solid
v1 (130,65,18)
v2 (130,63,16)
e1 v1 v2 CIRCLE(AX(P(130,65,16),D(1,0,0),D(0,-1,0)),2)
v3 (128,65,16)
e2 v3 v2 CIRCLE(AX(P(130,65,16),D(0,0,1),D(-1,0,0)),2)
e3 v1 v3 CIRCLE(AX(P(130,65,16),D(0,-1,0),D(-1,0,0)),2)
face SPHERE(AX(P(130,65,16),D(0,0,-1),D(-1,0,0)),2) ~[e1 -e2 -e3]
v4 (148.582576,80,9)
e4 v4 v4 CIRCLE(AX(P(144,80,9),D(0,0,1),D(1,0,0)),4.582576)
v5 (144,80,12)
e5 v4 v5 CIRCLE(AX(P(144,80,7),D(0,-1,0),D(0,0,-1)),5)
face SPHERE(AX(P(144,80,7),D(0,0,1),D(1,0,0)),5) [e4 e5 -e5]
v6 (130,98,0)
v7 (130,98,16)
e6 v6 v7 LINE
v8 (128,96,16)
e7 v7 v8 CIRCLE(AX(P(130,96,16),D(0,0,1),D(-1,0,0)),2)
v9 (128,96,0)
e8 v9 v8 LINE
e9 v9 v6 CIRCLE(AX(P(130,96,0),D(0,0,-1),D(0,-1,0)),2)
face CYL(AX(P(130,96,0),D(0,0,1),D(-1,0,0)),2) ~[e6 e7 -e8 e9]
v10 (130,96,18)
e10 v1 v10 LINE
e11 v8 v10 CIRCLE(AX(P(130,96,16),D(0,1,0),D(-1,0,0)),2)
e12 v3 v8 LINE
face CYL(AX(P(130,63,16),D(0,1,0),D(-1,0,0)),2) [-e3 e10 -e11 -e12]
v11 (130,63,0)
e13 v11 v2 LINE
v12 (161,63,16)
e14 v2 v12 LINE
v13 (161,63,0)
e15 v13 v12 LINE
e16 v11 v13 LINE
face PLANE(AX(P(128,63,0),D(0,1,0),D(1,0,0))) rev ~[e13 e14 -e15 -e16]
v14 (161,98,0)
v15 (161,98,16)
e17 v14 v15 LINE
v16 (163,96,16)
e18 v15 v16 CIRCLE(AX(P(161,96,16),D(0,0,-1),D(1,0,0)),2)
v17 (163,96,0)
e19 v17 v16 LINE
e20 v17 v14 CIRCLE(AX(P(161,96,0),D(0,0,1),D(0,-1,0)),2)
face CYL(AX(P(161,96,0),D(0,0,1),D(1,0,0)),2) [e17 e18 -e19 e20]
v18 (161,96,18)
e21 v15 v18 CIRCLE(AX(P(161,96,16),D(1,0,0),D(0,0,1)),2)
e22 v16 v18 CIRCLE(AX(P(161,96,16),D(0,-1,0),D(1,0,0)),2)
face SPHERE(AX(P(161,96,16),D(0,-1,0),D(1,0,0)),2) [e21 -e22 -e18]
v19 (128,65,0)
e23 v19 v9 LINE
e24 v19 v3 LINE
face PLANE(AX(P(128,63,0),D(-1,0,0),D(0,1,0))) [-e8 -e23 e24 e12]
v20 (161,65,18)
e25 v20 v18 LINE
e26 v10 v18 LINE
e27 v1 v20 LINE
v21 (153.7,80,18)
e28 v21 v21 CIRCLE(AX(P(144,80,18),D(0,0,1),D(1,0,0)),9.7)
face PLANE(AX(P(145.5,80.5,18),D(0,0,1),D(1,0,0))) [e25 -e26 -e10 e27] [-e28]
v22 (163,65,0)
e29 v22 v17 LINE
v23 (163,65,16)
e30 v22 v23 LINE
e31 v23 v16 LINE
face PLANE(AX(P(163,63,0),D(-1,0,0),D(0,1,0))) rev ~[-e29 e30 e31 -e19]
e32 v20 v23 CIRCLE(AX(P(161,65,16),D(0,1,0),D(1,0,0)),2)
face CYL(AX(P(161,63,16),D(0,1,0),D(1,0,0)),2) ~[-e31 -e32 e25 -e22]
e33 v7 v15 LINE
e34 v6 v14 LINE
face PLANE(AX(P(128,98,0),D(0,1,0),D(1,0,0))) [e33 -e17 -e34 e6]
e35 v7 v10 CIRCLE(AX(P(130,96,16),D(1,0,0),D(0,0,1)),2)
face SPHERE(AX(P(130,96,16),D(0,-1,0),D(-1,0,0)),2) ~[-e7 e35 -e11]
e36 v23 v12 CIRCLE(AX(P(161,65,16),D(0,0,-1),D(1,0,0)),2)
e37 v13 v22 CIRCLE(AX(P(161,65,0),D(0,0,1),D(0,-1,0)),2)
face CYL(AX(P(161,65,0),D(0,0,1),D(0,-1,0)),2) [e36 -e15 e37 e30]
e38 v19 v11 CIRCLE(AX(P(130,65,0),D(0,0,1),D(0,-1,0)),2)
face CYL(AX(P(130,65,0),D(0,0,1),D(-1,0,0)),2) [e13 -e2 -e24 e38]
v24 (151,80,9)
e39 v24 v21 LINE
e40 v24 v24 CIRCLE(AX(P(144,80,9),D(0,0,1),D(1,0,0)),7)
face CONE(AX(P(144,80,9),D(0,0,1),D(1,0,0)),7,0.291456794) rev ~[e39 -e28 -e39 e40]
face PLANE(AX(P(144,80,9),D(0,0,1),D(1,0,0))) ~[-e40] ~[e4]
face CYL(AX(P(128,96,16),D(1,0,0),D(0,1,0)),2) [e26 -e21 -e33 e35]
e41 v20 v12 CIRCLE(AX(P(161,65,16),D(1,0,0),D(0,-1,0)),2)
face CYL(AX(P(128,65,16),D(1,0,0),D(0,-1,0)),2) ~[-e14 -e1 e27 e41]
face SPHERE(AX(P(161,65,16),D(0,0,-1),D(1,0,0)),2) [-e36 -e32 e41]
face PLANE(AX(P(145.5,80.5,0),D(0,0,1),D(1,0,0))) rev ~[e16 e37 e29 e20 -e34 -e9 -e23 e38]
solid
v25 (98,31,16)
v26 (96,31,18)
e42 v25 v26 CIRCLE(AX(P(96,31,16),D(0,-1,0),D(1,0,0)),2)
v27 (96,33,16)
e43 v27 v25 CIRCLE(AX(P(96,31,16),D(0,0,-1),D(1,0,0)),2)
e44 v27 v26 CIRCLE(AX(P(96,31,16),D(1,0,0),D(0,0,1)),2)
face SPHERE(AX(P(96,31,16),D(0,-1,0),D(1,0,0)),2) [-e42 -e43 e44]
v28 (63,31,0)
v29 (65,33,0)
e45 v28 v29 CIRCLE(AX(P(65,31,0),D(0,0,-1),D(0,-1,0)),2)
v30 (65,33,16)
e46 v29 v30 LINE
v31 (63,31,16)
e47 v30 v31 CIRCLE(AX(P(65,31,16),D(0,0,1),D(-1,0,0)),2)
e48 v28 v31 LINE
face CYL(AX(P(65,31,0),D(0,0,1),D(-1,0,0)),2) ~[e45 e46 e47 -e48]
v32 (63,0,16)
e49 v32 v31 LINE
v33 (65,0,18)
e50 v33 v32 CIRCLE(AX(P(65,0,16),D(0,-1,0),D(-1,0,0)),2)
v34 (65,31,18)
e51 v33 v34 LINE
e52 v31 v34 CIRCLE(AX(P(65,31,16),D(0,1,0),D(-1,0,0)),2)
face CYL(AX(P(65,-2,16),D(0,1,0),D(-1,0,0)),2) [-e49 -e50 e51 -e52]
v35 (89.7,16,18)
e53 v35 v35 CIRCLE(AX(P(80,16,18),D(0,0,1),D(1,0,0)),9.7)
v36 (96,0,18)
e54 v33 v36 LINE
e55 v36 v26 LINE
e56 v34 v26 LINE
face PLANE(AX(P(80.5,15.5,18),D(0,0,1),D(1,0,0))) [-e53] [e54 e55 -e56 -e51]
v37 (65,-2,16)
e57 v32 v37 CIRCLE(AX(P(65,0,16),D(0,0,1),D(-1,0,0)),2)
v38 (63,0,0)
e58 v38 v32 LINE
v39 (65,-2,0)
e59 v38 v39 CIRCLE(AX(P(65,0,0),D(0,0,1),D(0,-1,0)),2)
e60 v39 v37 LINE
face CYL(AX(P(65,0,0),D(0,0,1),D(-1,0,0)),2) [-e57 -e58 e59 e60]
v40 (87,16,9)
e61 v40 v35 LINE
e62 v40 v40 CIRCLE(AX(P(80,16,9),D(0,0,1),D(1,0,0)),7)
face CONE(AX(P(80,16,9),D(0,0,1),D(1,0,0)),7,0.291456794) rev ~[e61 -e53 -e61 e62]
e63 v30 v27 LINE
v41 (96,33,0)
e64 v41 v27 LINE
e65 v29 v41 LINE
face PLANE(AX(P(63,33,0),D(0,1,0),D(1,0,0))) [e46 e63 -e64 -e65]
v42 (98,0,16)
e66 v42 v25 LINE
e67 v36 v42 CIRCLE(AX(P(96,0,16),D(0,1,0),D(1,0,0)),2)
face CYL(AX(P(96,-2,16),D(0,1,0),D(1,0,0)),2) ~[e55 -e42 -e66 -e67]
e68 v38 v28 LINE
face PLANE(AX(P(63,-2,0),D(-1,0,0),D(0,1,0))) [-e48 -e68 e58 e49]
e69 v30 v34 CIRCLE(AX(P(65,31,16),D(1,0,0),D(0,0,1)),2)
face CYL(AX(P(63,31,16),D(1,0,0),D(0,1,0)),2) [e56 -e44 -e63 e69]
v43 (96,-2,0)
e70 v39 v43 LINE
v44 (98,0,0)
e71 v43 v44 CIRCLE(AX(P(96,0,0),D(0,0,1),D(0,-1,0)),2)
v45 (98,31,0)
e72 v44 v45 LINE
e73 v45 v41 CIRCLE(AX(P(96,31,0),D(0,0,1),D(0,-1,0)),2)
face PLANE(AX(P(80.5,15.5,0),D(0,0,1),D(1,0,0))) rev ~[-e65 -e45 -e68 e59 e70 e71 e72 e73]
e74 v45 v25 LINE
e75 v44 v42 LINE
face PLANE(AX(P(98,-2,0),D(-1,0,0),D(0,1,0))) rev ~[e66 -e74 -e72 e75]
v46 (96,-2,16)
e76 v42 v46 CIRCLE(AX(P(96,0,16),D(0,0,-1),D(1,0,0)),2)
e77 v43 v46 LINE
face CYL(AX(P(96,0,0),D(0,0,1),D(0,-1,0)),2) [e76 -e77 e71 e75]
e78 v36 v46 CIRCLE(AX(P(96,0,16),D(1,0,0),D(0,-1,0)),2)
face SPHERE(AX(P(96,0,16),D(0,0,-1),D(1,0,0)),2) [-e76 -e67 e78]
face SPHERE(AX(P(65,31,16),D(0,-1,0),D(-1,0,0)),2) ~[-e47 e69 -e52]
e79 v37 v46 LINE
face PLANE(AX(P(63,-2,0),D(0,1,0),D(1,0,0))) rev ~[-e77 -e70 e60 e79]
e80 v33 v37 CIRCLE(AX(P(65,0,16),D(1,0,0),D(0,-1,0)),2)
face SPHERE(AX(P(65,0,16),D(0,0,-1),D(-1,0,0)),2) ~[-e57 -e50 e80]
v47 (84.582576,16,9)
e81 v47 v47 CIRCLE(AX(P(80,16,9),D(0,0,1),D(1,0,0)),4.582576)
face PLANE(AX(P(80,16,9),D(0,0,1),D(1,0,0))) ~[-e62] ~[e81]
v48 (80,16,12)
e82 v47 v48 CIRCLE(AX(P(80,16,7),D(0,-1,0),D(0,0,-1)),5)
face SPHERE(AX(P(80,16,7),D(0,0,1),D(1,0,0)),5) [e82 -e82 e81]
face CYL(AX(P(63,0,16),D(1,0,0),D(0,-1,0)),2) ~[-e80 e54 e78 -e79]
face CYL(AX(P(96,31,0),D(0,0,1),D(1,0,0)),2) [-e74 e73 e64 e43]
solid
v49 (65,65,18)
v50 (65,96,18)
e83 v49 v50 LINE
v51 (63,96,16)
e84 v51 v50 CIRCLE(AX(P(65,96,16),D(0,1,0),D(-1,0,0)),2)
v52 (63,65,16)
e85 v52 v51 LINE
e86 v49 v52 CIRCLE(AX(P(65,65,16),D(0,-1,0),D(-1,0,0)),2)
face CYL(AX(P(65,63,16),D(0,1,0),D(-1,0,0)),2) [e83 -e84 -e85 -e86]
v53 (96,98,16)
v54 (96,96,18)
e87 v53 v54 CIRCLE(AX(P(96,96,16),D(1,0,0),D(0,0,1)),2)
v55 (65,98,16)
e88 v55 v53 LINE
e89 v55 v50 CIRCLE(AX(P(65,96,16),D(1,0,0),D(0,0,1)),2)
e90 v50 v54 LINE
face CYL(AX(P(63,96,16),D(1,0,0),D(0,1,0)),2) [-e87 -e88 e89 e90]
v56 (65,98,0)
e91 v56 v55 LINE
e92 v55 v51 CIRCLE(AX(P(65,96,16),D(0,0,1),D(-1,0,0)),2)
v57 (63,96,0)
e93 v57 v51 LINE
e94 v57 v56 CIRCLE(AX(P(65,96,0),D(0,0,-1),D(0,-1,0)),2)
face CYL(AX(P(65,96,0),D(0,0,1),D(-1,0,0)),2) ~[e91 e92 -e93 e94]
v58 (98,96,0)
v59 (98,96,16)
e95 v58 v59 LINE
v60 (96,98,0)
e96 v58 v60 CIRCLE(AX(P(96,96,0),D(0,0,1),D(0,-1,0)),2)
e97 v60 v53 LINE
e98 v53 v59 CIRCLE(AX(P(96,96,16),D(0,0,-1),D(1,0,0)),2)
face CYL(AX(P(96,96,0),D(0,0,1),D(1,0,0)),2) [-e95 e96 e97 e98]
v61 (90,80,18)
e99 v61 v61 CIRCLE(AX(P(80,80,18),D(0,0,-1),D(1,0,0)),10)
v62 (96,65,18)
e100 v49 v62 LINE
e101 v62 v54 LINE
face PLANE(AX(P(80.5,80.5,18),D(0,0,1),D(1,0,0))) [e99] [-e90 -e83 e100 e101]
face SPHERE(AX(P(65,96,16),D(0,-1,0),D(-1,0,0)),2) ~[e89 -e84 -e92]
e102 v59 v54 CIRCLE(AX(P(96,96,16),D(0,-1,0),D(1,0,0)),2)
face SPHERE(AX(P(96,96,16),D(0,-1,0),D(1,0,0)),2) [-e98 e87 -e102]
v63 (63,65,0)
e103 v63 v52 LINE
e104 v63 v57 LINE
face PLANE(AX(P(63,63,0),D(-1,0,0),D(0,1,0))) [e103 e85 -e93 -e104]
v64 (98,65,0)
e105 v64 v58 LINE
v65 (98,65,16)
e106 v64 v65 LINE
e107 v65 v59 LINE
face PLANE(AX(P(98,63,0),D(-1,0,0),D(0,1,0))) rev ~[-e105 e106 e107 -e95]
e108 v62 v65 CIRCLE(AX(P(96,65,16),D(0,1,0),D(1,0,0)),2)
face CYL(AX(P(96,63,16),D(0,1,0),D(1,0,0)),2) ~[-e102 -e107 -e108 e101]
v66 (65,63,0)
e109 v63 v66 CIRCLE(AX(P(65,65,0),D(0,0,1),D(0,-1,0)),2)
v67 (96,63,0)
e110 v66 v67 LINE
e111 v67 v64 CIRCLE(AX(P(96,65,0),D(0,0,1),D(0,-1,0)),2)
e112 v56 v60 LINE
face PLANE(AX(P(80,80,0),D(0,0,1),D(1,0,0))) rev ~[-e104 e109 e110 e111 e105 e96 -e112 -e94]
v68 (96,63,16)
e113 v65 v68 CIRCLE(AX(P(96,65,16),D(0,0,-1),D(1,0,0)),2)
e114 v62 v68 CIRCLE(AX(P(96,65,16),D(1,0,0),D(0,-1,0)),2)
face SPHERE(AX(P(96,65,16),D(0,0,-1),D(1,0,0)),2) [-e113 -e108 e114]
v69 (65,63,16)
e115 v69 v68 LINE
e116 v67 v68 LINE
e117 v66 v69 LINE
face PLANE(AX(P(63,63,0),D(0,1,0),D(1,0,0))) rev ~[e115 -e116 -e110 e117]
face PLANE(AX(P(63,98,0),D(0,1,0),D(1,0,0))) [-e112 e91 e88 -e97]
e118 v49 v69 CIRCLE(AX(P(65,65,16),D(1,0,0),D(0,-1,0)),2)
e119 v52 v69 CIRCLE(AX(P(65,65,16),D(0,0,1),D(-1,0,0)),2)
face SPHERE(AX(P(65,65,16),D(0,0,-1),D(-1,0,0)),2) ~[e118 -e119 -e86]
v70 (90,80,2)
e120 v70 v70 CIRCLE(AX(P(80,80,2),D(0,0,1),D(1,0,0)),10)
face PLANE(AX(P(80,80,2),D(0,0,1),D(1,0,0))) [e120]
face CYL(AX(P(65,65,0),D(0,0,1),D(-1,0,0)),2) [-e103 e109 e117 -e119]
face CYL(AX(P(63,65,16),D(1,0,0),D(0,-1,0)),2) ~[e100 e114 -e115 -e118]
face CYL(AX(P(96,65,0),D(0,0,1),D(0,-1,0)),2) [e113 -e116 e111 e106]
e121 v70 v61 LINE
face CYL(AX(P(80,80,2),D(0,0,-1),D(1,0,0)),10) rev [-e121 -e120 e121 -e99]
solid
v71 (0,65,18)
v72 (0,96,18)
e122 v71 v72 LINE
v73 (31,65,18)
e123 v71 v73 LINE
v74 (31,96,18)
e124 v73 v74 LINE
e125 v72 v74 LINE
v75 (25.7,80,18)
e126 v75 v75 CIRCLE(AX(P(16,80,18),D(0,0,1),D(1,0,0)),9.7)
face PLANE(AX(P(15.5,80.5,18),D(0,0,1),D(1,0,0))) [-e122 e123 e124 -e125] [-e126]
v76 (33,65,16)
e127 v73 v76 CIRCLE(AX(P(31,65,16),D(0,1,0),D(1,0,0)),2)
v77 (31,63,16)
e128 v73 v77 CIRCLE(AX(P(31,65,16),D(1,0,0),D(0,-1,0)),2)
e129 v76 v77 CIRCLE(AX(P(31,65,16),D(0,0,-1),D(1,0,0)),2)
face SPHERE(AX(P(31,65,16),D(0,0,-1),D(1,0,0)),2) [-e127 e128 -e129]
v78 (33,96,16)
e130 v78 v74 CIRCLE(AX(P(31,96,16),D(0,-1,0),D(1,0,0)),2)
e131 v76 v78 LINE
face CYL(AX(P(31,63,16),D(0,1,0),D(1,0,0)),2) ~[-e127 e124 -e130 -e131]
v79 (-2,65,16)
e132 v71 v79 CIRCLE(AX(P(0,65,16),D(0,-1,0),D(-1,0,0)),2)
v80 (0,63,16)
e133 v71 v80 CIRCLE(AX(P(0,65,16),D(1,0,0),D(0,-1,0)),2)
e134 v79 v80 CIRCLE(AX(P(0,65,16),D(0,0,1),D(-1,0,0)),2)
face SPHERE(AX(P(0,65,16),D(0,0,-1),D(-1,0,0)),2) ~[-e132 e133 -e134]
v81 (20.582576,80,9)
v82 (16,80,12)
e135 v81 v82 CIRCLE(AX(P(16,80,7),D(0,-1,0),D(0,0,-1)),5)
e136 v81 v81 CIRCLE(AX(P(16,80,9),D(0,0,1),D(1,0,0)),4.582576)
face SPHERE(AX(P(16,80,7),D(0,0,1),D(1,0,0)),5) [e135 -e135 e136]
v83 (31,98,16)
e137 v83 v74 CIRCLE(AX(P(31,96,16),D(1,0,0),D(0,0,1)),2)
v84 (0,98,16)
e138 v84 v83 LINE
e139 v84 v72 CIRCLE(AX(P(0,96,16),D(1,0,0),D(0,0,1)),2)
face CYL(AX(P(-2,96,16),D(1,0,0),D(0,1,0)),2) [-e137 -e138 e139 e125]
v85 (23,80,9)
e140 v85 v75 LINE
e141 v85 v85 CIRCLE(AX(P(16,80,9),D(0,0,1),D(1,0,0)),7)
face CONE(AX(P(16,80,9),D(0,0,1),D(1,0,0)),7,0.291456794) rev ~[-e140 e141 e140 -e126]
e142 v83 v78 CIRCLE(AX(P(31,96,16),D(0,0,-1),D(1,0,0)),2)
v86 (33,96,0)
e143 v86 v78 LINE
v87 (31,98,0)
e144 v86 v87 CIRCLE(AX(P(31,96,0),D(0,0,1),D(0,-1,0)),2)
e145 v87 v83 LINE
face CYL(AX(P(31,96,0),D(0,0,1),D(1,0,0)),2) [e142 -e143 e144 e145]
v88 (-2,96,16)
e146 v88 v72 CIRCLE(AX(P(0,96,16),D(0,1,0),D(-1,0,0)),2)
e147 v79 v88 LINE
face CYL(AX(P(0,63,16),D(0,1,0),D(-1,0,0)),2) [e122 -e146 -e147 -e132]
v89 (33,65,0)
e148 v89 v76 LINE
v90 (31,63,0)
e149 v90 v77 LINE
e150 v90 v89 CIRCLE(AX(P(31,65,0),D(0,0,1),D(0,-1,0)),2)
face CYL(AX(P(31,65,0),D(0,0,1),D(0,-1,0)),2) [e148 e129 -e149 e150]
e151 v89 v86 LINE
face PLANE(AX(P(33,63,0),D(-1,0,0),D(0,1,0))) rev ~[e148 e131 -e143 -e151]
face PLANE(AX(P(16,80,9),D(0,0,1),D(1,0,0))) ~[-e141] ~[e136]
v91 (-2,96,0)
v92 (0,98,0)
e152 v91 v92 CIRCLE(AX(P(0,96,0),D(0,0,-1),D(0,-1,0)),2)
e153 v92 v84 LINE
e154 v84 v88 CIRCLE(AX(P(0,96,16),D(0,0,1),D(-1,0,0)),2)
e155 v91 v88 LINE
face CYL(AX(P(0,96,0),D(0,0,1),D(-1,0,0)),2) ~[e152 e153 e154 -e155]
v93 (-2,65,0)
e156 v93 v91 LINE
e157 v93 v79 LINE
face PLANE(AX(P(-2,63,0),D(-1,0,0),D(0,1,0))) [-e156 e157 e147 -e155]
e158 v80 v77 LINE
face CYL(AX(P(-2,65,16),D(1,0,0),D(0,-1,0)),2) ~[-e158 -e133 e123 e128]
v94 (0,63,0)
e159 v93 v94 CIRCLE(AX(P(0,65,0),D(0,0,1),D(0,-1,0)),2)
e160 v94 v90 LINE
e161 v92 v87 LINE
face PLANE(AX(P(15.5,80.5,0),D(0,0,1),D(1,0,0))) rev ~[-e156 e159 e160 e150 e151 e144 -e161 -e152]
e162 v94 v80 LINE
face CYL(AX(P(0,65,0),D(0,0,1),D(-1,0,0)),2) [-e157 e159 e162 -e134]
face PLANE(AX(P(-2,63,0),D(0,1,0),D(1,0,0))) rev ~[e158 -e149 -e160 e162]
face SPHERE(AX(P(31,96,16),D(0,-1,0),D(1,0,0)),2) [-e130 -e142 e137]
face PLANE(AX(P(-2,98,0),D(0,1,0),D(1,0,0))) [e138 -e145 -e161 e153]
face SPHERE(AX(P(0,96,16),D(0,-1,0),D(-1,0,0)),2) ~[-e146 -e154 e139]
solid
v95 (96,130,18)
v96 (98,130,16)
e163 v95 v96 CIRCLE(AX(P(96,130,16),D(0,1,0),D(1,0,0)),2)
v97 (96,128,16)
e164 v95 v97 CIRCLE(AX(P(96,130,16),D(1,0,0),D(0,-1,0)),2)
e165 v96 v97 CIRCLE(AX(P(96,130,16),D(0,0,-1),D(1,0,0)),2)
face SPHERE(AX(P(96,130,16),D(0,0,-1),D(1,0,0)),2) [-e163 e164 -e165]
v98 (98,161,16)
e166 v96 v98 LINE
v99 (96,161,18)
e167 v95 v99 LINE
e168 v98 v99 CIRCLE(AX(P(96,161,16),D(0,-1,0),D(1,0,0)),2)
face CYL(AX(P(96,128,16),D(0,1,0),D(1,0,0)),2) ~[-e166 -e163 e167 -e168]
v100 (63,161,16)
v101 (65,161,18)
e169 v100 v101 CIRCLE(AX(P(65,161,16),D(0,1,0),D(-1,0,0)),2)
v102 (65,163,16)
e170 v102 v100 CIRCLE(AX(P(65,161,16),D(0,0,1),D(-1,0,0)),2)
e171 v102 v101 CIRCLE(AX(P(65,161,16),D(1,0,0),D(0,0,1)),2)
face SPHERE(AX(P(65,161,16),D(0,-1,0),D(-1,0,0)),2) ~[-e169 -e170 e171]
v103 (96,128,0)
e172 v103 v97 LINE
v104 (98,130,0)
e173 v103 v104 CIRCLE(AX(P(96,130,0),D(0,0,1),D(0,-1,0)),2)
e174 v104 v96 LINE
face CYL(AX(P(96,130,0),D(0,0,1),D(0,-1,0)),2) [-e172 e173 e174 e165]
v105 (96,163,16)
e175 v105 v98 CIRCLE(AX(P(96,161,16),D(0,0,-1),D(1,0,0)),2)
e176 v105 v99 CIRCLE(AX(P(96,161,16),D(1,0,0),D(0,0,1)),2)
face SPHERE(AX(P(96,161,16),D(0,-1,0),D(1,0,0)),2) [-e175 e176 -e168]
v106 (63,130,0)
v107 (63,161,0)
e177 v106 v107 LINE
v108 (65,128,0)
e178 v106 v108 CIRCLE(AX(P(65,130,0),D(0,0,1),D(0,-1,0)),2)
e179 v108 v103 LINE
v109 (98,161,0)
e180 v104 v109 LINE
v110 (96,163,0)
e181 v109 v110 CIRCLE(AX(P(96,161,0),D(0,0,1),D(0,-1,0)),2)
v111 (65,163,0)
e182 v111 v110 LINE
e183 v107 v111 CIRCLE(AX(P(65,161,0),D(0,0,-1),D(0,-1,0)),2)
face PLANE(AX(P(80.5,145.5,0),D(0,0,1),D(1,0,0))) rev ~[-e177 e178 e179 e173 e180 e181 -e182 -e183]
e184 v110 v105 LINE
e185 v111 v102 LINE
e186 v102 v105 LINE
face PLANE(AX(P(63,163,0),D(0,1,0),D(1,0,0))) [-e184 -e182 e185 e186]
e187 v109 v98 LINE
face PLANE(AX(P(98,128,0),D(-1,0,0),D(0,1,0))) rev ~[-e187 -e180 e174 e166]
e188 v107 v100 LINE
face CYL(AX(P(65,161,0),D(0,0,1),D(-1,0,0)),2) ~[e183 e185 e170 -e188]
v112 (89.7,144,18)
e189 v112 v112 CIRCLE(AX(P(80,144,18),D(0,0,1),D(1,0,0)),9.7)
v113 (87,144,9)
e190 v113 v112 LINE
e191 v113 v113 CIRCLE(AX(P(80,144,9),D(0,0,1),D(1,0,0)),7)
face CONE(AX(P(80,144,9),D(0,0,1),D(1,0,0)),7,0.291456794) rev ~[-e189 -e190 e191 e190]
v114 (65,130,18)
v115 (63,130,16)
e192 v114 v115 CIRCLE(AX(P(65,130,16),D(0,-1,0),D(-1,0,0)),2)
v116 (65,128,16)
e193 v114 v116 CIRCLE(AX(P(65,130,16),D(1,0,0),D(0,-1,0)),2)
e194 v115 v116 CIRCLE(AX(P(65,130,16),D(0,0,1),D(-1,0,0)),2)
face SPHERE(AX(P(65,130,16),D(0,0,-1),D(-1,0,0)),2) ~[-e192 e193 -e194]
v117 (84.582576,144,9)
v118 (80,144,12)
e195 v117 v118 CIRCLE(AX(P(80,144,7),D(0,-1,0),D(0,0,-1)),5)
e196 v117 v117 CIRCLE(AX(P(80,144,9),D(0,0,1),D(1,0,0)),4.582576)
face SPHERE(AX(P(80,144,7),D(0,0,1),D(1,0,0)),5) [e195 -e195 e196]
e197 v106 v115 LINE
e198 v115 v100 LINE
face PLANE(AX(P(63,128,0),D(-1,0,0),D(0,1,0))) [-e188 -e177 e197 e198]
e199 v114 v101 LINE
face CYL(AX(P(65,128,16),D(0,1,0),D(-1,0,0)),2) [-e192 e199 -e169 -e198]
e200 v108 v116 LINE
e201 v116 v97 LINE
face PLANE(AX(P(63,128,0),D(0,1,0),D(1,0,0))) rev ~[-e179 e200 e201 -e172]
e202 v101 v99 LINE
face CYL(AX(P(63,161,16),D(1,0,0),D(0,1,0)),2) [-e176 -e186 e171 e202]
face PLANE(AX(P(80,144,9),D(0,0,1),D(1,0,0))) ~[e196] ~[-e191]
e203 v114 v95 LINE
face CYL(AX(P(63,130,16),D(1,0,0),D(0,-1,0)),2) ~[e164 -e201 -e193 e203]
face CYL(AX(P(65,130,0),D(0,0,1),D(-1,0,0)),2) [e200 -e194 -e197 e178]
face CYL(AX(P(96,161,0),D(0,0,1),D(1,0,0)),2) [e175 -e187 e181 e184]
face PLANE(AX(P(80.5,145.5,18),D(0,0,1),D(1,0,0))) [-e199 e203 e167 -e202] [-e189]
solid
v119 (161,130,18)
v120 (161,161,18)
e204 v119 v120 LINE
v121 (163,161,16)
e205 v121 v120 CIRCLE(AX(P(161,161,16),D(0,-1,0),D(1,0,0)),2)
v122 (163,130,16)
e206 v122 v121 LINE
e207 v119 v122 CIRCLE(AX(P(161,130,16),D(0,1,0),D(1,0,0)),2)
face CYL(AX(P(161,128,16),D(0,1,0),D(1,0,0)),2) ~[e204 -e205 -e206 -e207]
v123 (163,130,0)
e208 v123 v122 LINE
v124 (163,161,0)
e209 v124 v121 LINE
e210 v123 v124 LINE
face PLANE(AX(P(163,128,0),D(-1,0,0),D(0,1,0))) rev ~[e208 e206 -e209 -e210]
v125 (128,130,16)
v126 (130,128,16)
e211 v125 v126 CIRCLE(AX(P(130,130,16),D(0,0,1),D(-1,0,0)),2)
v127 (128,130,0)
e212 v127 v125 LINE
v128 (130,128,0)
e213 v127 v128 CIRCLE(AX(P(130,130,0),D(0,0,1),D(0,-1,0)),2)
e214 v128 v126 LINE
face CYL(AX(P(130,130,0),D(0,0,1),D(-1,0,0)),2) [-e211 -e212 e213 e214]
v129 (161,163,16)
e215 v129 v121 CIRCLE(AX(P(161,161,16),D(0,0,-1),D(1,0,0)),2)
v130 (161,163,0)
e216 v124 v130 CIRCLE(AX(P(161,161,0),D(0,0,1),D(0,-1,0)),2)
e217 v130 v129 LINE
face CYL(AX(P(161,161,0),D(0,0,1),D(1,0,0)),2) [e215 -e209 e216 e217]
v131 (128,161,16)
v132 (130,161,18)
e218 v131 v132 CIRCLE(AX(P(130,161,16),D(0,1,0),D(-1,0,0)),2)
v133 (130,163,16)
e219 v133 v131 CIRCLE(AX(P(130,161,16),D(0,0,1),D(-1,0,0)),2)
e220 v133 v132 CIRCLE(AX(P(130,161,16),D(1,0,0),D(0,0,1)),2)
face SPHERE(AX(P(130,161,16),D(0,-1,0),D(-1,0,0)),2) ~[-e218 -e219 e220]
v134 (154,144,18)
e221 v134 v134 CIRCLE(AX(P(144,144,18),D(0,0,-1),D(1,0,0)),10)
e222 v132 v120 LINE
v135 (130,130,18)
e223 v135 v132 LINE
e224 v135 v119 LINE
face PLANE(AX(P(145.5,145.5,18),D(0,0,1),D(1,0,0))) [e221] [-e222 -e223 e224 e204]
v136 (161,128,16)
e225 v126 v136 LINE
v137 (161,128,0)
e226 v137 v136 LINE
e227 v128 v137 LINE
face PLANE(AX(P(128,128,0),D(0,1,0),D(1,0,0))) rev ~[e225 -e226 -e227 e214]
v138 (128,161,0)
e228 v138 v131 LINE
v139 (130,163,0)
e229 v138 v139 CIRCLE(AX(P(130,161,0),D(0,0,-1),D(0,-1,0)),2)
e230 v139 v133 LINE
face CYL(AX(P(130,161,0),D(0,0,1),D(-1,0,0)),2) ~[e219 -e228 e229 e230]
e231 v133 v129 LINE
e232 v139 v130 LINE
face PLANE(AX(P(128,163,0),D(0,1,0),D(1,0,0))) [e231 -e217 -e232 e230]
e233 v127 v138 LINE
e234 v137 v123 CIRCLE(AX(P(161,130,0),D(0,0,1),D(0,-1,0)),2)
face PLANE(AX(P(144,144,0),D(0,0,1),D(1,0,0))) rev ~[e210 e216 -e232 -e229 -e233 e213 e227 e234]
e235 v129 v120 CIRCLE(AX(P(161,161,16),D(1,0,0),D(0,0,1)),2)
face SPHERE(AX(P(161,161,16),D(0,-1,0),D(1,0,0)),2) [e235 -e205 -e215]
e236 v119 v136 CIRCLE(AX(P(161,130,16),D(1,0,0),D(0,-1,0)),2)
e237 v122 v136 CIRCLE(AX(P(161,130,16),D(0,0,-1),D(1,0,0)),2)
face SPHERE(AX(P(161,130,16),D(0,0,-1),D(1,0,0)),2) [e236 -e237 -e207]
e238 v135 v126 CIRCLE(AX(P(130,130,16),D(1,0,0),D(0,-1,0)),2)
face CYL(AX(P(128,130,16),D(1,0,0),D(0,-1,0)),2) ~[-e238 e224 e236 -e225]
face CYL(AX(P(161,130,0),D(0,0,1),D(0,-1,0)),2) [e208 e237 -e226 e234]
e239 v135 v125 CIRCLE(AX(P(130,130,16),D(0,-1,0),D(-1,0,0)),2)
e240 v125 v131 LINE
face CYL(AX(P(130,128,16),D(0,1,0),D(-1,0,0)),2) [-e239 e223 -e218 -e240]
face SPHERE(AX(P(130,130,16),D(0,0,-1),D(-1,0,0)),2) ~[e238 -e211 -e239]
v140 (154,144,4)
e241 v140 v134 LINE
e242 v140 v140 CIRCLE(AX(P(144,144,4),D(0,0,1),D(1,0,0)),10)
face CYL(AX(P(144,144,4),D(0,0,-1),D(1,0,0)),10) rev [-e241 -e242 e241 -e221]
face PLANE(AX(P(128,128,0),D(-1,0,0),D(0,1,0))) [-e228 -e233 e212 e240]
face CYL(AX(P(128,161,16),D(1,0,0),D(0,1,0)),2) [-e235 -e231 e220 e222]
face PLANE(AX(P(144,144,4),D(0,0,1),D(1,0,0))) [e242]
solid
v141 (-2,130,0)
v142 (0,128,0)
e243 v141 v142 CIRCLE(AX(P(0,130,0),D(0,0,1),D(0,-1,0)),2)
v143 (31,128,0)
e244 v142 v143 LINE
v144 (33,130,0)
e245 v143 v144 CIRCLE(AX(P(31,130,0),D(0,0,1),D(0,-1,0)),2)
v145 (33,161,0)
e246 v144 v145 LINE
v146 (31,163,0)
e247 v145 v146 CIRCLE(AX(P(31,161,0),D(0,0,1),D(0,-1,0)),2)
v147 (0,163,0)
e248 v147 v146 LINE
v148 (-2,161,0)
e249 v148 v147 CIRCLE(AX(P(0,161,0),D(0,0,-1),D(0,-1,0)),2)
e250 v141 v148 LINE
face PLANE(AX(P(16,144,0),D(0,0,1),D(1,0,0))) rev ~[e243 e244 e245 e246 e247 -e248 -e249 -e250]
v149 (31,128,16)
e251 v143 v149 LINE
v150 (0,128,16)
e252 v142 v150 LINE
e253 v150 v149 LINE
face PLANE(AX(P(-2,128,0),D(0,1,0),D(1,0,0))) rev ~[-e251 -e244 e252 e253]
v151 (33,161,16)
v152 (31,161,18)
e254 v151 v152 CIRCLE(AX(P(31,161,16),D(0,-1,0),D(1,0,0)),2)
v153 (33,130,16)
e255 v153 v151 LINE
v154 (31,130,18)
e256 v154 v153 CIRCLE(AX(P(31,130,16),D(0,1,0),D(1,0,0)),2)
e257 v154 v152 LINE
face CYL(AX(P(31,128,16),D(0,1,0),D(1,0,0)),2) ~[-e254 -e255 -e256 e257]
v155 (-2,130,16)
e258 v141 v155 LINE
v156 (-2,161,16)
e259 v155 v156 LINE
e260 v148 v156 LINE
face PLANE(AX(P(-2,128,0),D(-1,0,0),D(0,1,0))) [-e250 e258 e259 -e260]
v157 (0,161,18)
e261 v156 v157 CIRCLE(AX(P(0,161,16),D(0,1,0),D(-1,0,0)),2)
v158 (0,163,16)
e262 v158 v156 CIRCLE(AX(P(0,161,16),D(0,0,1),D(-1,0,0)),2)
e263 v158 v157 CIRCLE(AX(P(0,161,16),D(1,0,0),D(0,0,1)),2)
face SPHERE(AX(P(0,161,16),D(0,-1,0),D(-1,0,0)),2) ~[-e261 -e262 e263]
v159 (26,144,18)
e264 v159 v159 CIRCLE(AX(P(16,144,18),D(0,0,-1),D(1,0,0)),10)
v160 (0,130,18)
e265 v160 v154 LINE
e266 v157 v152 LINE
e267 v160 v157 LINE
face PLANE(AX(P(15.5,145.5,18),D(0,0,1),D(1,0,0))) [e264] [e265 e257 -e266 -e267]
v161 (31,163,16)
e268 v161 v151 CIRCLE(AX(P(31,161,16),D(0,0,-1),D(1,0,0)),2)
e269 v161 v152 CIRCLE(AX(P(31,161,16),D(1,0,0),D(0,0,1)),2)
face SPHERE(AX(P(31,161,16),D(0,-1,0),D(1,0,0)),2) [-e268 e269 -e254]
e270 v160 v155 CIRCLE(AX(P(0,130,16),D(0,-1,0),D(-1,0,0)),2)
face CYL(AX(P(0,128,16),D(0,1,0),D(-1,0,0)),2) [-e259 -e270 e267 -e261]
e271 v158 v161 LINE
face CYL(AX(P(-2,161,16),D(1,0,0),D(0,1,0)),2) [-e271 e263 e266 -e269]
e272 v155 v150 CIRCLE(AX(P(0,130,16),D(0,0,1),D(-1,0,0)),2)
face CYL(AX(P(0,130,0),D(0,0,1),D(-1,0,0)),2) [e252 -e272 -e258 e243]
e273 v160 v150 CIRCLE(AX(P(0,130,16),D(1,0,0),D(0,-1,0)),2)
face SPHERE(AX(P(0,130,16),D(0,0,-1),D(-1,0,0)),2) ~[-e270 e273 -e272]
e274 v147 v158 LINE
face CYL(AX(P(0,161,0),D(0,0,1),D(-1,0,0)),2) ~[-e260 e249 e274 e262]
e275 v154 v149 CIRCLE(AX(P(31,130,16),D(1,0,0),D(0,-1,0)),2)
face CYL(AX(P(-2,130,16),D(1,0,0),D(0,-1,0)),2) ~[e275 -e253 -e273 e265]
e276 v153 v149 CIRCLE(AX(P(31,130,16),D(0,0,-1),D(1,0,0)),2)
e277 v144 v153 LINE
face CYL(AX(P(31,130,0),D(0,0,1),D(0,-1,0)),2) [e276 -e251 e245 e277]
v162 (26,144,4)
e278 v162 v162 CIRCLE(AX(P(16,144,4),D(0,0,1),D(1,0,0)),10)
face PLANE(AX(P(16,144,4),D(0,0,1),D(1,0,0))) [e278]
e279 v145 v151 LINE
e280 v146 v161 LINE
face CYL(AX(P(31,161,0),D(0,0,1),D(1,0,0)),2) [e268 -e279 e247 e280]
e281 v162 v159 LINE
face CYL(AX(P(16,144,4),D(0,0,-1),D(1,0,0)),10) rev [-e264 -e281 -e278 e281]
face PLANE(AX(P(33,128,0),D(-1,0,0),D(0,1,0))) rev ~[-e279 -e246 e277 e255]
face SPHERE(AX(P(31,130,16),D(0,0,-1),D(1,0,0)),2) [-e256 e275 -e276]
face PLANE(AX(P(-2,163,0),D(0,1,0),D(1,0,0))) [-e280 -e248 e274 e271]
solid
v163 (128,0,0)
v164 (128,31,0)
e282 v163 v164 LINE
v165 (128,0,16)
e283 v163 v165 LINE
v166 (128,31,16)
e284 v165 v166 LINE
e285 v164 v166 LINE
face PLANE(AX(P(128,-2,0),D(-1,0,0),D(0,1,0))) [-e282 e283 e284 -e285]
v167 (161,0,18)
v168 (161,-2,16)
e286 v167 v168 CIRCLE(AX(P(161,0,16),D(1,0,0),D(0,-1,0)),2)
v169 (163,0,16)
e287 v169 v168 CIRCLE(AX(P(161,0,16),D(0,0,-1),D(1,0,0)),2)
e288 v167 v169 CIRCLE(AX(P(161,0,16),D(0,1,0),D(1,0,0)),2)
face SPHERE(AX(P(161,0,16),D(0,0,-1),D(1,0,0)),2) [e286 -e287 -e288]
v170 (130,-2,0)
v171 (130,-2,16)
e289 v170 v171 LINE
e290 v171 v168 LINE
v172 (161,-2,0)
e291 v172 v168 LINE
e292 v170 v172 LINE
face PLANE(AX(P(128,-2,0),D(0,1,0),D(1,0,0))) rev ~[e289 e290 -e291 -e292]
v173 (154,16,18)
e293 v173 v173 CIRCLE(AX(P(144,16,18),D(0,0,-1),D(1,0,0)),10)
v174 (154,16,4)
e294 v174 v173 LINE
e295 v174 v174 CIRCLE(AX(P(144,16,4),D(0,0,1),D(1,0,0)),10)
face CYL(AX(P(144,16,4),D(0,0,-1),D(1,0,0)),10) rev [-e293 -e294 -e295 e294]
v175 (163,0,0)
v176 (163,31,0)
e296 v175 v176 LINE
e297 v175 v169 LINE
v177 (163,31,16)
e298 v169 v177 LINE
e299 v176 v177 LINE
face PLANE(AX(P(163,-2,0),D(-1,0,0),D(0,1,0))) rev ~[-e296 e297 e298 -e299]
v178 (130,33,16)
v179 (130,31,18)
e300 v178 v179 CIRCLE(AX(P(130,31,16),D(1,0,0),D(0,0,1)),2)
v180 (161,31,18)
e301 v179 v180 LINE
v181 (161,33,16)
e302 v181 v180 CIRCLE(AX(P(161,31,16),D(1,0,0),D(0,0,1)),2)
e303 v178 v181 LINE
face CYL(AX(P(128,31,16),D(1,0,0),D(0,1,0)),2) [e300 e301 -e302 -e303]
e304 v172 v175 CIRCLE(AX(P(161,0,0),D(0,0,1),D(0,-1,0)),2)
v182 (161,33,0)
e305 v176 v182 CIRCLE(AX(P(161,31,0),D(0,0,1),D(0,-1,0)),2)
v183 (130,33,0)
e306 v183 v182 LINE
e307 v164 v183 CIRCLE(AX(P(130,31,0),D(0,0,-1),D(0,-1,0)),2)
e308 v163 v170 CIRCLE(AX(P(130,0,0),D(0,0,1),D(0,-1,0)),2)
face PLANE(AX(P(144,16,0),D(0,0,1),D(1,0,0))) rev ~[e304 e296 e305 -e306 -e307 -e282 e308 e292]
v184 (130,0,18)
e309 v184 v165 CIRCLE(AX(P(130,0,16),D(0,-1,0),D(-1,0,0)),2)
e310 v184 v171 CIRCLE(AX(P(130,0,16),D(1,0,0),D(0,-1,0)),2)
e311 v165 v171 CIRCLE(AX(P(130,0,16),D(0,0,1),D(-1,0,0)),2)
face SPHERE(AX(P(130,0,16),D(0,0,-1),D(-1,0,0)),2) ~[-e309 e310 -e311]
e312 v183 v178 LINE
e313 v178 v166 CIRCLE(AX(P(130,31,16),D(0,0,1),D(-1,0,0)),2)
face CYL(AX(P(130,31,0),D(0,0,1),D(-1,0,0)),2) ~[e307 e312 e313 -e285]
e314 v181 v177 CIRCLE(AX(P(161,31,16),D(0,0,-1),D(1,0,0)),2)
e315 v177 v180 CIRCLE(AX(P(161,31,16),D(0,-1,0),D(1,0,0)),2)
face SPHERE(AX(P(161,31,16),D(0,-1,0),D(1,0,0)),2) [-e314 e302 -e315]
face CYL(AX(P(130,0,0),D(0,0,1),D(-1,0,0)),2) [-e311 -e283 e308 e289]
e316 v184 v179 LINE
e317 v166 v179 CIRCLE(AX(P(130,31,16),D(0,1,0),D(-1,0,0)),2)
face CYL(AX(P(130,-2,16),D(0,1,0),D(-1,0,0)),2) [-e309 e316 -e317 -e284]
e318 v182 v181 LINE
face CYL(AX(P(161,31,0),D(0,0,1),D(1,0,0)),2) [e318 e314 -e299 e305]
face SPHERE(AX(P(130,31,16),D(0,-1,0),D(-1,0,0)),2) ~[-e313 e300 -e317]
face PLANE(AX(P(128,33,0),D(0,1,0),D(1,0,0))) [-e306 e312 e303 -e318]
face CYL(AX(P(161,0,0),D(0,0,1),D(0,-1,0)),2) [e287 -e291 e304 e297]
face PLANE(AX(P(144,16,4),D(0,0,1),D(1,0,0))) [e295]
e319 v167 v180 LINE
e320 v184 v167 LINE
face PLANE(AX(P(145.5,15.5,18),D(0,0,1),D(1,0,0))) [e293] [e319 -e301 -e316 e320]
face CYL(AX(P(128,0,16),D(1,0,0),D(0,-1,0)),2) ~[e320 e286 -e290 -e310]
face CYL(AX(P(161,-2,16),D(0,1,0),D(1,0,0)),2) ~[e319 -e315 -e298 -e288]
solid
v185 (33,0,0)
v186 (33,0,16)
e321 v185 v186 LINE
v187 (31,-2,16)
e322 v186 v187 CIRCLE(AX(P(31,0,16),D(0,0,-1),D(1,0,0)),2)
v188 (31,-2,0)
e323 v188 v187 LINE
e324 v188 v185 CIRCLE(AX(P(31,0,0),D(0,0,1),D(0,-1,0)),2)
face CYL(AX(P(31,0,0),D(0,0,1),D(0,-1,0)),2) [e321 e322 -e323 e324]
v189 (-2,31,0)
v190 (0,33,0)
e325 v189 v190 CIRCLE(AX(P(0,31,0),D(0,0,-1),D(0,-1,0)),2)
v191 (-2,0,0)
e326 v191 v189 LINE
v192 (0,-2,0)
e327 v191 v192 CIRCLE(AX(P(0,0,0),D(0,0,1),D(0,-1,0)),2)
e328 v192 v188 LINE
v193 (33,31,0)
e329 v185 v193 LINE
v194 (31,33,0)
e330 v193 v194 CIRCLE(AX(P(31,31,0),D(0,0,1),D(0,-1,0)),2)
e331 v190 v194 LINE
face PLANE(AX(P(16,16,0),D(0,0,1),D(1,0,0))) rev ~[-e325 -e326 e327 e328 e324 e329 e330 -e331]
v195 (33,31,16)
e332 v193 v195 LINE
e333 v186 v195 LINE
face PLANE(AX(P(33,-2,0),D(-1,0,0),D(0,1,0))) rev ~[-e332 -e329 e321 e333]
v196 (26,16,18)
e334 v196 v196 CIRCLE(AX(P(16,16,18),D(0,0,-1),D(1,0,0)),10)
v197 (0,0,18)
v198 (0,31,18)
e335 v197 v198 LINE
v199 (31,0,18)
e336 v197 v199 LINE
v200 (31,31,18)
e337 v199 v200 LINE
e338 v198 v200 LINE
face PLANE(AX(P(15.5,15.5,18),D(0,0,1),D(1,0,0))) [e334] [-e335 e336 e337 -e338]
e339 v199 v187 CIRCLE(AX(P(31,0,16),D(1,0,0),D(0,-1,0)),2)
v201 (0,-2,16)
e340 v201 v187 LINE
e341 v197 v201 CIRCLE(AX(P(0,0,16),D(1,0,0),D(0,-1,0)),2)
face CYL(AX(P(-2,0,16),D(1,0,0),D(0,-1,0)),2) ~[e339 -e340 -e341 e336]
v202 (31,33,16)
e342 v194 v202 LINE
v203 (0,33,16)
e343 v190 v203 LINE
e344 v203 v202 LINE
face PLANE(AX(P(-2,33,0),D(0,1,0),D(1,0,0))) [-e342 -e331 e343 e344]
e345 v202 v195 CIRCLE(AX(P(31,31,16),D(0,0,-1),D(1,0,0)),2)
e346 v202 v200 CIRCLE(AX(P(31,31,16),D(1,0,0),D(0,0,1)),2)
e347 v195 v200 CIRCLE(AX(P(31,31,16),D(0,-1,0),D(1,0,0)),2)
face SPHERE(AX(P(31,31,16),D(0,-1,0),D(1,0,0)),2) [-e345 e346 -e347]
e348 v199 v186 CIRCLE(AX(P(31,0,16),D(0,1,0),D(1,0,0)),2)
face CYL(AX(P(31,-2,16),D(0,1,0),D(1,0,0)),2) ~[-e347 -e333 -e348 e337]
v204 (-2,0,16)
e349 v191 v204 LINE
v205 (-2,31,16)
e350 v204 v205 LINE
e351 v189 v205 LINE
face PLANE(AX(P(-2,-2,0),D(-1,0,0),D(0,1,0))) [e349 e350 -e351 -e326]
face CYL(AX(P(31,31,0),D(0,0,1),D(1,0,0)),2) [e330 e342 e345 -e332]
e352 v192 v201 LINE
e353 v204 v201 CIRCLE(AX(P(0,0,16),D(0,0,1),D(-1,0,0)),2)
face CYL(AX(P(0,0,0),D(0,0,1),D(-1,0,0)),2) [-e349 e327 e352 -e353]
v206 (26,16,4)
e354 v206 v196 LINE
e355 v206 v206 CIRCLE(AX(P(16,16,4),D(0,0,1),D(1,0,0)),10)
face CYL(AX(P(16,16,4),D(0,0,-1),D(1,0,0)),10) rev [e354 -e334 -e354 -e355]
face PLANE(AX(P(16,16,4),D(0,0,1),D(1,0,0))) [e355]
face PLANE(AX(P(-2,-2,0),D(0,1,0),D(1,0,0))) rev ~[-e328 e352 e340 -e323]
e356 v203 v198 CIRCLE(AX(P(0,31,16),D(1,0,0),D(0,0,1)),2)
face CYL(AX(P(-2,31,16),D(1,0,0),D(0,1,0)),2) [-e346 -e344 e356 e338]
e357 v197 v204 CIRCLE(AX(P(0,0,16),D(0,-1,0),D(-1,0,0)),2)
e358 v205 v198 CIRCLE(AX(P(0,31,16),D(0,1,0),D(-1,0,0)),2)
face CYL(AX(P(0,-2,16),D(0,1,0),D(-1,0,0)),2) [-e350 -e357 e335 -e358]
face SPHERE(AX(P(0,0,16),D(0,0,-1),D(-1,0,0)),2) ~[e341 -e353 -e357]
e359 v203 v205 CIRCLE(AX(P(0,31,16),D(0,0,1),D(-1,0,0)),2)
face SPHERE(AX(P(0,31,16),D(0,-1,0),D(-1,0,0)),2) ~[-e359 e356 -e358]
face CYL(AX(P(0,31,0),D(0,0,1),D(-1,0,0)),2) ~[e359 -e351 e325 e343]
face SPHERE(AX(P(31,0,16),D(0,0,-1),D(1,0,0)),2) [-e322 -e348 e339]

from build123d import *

# Parameters (mm, degrees)
CYLINDER001_R     = 10
CYLINDER001_DEPTH = 20
CYLINDER_R        = 10
CYLINDER_DEPTH    = 15
ARRAY003_X_COUNT  = 2
ARRAY003_X_PITCH  = 128
ARRAY003_Y_COUNT  = 2
ARRAY003_Y_PITCH  = 128
CYLINDER003_R     = 10
CYLINDER003_DEPTH = 18
CYLINDER002_R     = 10
CYLINDER002_DEPTH = 18
ARRAY004_X_COUNT  = 2
ARRAY004_X_PITCH  = 128
ARRAY004_Y_COUNT  = 2
ARRAY004_Y_PITCH  = 128
ARRAY001_X_COUNT  = 3
ARRAY001_X_PITCH  = 64
ARRAY001_Y_COUNT  = 3
ARRAY001_Y_PITCH  = 64
BOX002_W          = 35
BOX002_H          = 35
BOX002_DEPTH      = 18
FILLET001_R       = 2
ARRAY_X_COUNT     = 3
ARRAY_X_PITCH     = 65
ARRAY_Y_COUNT     = 3
ARRAY_Y_PITCH     = 65


with BuildPart() as madrigueracentro:
    # Cylinder001 → Cylinder001 (new body)
    with BuildSketch(Plane(origin=(80, 80, 2), x_dir=(1, 0, 0), z_dir=(0, 0, 1))):
        Circle(CYLINDER001_R)
    extrude(amount=CYLINDER001_DEPTH)


with BuildPart() as madriguerastodas:
    # Cylinder → Cylinder (new body)
    with BuildSketch(Plane(origin=(16, 16, 4), x_dir=(1, 0, 0), z_dir=(0, 0, 1))):
        Circle(CYLINDER_R)
    extrude(amount=CYLINDER_DEPTH)

    # Array003 X: MadriguerasTodas ×2


with BuildPart() as madriguerastodas_1:
    add(madriguerastodas.part)
    with Locations(*[(i * ARRAY003_X_PITCH, 0, 0) for i in range(1, ARRAY003_X_COUNT)]):
        add(madriguerastodas.part)

    # Array003 Y: MadriguerasTodas ×2


with BuildPart() as madriguerastodas_2:
    add(madriguerastodas_1.part)
    with Locations(*[(0, i * ARRAY003_Y_PITCH, 0) for i in range(1, ARRAY003_Y_COUNT)]):
        add(madriguerastodas_1.part)

    # Fusion: union MadrigueraCentro
    add(madrigueracentro.part)


with BuildPart() as rellenamadrigueracentro:
    # Cylinder003 → Cylinder003 (new body)
    with BuildSketch(Plane(origin=(80, 80, 0), x_dir=(1, 0, 0), z_dir=(0, 0, 1))):
        Circle(CYLINDER003_R)
    extrude(amount=CYLINDER003_DEPTH)


with BuildPart() as rellenamadrigueras:
    # Cylinder002 → Cylinder002 (new body)
    with BuildSketch(Plane(origin=(16, 16, 0), x_dir=(1, 0, 0), z_dir=(0, 0, 1))):
        Circle(CYLINDER002_R)
    extrude(amount=CYLINDER002_DEPTH)

    # Array004 X: RellenaMadrigueras ×2


with BuildPart() as rellenamadrigueras_1:
    add(rellenamadrigueras.part)
    with Locations(*[(i * ARRAY004_X_PITCH, 0, 0) for i in range(1, ARRAY004_X_COUNT)]):
        add(rellenamadrigueras.part)

    # Array004 Y: RellenaMadrigueras ×2


with BuildPart() as rellenamadrigueras_2:
    add(rellenamadrigueras_1.part)
    with Locations(*[(0, i * ARRAY004_Y_PITCH, 0) for i in range(1, ARRAY004_Y_COUNT)]):
        add(rellenamadrigueras_1.part)

    # Fusion001: union RellenaMadrigueraCentro
    add(rellenamadrigueracentro.part)


with BuildPart() as sphere:
    # Sphere → Sphere (revolve)
    with BuildSketch(Plane(origin=(0, 0, 36), x_dir=(1, 0, 0), z_dir=(0, -1, 0))):
        with BuildLine():
            ThreePointArc((0, -5), (5, 0), (0, 5))
            Line((0, 5), (0, -5))
        make_face()
    revolve(axis=Axis((0, 0, 36), (0, 0, 1)))


with BuildPart() as agujerosaltos:
    # Cone → Cone (revolve)
    with BuildSketch(Plane(origin=(0, 0, 38), x_dir=(1, 0, 0), z_dir=(0, -1, 0))):
        Polygon((0, 0), (7, 0), (10, 10), (0, 10), align=None)
    revolve(axis=Axis((0, 0, 38), (0, 0, 1)))

    # Cut: cut Sphere
    add(sphere.part, mode=Mode.SUBTRACT)


with BuildPart() as agujerosaltos_1:
    # Cut placement: moved
    add(agujerosaltos.part.moved(Location((16, 16, -29))))

    # Array001 X: AgujerosAltos ×3


with BuildPart() as agujerosaltos_2:
    add(agujerosaltos_1.part)
    with Locations(*[(i * ARRAY001_X_PITCH, 0, 0) for i in range(1, ARRAY001_X_COUNT)]):
        add(agujerosaltos_1.part)

    # Array001 Y: AgujerosAltos ×3


with BuildPart() as agujerosaltos_3:
    add(agujerosaltos_2.part)
    with Locations(*[(0, i * ARRAY001_Y_PITCH, 0) for i in range(1, ARRAY001_Y_COUNT)]):
        add(agujerosaltos_2.part)


with BuildPart() as salientesarreglados:
    # Box002 → Box002 (new body)
    with BuildSketch(Plane.XY):
        with Locations((17.5, 17.5)):
            Rectangle(BOX002_W, BOX002_H)
    extrude(amount=BOX002_DEPTH)

    # Fillet001
    fillet001_edges = [salientesarreglados.edges().sort_by_distance(p)[0] for p in [
        (0, 0, 9),
        (0, 17.5, 18),
        (0, 35, 9),
        (35, 0, 9),
        (35, 17.5, 18),
        (35, 35, 9),
        (17.5, 0, 18),
        (17.5, 35, 18),
    ]]
    fillet(fillet001_edges, radius=FILLET001_R)


with BuildPart() as salientesarreglados_1:
    # Fillet001 placement: moved
    add(salientesarreglados.part.moved(Location((-2, -2, 0))))

    # Array X: SalientesArreglados ×3


with BuildPart() as salientesarreglados_2:
    add(salientesarreglados_1.part)
    with Locations(*[(i * ARRAY_X_PITCH, 0, 0) for i in range(1, ARRAY_X_COUNT)]):
        add(salientesarreglados_1.part)

    # Array Y: SalientesArreglados ×3


with BuildPart() as salientesarreglados_3:
    add(salientesarreglados_2.part)
    with Locations(*[(0, i * ARRAY_Y_PITCH, 0) for i in range(1, ARRAY_Y_COUNT)]):
        add(salientesarreglados_2.part)

    # Cut003: cut AgujerosAltos
    add(agujerosaltos_3.part, mode=Mode.SUBTRACT)

    # Fusion002: union RellenaMadrigueras
    add(rellenamadrigueras_2.part)

    # Cut004: cut MadriguerasTodas
    add(madriguerastodas_2.part, mode=Mode.SUBTRACT)


solid = salientesarreglados_3.part
